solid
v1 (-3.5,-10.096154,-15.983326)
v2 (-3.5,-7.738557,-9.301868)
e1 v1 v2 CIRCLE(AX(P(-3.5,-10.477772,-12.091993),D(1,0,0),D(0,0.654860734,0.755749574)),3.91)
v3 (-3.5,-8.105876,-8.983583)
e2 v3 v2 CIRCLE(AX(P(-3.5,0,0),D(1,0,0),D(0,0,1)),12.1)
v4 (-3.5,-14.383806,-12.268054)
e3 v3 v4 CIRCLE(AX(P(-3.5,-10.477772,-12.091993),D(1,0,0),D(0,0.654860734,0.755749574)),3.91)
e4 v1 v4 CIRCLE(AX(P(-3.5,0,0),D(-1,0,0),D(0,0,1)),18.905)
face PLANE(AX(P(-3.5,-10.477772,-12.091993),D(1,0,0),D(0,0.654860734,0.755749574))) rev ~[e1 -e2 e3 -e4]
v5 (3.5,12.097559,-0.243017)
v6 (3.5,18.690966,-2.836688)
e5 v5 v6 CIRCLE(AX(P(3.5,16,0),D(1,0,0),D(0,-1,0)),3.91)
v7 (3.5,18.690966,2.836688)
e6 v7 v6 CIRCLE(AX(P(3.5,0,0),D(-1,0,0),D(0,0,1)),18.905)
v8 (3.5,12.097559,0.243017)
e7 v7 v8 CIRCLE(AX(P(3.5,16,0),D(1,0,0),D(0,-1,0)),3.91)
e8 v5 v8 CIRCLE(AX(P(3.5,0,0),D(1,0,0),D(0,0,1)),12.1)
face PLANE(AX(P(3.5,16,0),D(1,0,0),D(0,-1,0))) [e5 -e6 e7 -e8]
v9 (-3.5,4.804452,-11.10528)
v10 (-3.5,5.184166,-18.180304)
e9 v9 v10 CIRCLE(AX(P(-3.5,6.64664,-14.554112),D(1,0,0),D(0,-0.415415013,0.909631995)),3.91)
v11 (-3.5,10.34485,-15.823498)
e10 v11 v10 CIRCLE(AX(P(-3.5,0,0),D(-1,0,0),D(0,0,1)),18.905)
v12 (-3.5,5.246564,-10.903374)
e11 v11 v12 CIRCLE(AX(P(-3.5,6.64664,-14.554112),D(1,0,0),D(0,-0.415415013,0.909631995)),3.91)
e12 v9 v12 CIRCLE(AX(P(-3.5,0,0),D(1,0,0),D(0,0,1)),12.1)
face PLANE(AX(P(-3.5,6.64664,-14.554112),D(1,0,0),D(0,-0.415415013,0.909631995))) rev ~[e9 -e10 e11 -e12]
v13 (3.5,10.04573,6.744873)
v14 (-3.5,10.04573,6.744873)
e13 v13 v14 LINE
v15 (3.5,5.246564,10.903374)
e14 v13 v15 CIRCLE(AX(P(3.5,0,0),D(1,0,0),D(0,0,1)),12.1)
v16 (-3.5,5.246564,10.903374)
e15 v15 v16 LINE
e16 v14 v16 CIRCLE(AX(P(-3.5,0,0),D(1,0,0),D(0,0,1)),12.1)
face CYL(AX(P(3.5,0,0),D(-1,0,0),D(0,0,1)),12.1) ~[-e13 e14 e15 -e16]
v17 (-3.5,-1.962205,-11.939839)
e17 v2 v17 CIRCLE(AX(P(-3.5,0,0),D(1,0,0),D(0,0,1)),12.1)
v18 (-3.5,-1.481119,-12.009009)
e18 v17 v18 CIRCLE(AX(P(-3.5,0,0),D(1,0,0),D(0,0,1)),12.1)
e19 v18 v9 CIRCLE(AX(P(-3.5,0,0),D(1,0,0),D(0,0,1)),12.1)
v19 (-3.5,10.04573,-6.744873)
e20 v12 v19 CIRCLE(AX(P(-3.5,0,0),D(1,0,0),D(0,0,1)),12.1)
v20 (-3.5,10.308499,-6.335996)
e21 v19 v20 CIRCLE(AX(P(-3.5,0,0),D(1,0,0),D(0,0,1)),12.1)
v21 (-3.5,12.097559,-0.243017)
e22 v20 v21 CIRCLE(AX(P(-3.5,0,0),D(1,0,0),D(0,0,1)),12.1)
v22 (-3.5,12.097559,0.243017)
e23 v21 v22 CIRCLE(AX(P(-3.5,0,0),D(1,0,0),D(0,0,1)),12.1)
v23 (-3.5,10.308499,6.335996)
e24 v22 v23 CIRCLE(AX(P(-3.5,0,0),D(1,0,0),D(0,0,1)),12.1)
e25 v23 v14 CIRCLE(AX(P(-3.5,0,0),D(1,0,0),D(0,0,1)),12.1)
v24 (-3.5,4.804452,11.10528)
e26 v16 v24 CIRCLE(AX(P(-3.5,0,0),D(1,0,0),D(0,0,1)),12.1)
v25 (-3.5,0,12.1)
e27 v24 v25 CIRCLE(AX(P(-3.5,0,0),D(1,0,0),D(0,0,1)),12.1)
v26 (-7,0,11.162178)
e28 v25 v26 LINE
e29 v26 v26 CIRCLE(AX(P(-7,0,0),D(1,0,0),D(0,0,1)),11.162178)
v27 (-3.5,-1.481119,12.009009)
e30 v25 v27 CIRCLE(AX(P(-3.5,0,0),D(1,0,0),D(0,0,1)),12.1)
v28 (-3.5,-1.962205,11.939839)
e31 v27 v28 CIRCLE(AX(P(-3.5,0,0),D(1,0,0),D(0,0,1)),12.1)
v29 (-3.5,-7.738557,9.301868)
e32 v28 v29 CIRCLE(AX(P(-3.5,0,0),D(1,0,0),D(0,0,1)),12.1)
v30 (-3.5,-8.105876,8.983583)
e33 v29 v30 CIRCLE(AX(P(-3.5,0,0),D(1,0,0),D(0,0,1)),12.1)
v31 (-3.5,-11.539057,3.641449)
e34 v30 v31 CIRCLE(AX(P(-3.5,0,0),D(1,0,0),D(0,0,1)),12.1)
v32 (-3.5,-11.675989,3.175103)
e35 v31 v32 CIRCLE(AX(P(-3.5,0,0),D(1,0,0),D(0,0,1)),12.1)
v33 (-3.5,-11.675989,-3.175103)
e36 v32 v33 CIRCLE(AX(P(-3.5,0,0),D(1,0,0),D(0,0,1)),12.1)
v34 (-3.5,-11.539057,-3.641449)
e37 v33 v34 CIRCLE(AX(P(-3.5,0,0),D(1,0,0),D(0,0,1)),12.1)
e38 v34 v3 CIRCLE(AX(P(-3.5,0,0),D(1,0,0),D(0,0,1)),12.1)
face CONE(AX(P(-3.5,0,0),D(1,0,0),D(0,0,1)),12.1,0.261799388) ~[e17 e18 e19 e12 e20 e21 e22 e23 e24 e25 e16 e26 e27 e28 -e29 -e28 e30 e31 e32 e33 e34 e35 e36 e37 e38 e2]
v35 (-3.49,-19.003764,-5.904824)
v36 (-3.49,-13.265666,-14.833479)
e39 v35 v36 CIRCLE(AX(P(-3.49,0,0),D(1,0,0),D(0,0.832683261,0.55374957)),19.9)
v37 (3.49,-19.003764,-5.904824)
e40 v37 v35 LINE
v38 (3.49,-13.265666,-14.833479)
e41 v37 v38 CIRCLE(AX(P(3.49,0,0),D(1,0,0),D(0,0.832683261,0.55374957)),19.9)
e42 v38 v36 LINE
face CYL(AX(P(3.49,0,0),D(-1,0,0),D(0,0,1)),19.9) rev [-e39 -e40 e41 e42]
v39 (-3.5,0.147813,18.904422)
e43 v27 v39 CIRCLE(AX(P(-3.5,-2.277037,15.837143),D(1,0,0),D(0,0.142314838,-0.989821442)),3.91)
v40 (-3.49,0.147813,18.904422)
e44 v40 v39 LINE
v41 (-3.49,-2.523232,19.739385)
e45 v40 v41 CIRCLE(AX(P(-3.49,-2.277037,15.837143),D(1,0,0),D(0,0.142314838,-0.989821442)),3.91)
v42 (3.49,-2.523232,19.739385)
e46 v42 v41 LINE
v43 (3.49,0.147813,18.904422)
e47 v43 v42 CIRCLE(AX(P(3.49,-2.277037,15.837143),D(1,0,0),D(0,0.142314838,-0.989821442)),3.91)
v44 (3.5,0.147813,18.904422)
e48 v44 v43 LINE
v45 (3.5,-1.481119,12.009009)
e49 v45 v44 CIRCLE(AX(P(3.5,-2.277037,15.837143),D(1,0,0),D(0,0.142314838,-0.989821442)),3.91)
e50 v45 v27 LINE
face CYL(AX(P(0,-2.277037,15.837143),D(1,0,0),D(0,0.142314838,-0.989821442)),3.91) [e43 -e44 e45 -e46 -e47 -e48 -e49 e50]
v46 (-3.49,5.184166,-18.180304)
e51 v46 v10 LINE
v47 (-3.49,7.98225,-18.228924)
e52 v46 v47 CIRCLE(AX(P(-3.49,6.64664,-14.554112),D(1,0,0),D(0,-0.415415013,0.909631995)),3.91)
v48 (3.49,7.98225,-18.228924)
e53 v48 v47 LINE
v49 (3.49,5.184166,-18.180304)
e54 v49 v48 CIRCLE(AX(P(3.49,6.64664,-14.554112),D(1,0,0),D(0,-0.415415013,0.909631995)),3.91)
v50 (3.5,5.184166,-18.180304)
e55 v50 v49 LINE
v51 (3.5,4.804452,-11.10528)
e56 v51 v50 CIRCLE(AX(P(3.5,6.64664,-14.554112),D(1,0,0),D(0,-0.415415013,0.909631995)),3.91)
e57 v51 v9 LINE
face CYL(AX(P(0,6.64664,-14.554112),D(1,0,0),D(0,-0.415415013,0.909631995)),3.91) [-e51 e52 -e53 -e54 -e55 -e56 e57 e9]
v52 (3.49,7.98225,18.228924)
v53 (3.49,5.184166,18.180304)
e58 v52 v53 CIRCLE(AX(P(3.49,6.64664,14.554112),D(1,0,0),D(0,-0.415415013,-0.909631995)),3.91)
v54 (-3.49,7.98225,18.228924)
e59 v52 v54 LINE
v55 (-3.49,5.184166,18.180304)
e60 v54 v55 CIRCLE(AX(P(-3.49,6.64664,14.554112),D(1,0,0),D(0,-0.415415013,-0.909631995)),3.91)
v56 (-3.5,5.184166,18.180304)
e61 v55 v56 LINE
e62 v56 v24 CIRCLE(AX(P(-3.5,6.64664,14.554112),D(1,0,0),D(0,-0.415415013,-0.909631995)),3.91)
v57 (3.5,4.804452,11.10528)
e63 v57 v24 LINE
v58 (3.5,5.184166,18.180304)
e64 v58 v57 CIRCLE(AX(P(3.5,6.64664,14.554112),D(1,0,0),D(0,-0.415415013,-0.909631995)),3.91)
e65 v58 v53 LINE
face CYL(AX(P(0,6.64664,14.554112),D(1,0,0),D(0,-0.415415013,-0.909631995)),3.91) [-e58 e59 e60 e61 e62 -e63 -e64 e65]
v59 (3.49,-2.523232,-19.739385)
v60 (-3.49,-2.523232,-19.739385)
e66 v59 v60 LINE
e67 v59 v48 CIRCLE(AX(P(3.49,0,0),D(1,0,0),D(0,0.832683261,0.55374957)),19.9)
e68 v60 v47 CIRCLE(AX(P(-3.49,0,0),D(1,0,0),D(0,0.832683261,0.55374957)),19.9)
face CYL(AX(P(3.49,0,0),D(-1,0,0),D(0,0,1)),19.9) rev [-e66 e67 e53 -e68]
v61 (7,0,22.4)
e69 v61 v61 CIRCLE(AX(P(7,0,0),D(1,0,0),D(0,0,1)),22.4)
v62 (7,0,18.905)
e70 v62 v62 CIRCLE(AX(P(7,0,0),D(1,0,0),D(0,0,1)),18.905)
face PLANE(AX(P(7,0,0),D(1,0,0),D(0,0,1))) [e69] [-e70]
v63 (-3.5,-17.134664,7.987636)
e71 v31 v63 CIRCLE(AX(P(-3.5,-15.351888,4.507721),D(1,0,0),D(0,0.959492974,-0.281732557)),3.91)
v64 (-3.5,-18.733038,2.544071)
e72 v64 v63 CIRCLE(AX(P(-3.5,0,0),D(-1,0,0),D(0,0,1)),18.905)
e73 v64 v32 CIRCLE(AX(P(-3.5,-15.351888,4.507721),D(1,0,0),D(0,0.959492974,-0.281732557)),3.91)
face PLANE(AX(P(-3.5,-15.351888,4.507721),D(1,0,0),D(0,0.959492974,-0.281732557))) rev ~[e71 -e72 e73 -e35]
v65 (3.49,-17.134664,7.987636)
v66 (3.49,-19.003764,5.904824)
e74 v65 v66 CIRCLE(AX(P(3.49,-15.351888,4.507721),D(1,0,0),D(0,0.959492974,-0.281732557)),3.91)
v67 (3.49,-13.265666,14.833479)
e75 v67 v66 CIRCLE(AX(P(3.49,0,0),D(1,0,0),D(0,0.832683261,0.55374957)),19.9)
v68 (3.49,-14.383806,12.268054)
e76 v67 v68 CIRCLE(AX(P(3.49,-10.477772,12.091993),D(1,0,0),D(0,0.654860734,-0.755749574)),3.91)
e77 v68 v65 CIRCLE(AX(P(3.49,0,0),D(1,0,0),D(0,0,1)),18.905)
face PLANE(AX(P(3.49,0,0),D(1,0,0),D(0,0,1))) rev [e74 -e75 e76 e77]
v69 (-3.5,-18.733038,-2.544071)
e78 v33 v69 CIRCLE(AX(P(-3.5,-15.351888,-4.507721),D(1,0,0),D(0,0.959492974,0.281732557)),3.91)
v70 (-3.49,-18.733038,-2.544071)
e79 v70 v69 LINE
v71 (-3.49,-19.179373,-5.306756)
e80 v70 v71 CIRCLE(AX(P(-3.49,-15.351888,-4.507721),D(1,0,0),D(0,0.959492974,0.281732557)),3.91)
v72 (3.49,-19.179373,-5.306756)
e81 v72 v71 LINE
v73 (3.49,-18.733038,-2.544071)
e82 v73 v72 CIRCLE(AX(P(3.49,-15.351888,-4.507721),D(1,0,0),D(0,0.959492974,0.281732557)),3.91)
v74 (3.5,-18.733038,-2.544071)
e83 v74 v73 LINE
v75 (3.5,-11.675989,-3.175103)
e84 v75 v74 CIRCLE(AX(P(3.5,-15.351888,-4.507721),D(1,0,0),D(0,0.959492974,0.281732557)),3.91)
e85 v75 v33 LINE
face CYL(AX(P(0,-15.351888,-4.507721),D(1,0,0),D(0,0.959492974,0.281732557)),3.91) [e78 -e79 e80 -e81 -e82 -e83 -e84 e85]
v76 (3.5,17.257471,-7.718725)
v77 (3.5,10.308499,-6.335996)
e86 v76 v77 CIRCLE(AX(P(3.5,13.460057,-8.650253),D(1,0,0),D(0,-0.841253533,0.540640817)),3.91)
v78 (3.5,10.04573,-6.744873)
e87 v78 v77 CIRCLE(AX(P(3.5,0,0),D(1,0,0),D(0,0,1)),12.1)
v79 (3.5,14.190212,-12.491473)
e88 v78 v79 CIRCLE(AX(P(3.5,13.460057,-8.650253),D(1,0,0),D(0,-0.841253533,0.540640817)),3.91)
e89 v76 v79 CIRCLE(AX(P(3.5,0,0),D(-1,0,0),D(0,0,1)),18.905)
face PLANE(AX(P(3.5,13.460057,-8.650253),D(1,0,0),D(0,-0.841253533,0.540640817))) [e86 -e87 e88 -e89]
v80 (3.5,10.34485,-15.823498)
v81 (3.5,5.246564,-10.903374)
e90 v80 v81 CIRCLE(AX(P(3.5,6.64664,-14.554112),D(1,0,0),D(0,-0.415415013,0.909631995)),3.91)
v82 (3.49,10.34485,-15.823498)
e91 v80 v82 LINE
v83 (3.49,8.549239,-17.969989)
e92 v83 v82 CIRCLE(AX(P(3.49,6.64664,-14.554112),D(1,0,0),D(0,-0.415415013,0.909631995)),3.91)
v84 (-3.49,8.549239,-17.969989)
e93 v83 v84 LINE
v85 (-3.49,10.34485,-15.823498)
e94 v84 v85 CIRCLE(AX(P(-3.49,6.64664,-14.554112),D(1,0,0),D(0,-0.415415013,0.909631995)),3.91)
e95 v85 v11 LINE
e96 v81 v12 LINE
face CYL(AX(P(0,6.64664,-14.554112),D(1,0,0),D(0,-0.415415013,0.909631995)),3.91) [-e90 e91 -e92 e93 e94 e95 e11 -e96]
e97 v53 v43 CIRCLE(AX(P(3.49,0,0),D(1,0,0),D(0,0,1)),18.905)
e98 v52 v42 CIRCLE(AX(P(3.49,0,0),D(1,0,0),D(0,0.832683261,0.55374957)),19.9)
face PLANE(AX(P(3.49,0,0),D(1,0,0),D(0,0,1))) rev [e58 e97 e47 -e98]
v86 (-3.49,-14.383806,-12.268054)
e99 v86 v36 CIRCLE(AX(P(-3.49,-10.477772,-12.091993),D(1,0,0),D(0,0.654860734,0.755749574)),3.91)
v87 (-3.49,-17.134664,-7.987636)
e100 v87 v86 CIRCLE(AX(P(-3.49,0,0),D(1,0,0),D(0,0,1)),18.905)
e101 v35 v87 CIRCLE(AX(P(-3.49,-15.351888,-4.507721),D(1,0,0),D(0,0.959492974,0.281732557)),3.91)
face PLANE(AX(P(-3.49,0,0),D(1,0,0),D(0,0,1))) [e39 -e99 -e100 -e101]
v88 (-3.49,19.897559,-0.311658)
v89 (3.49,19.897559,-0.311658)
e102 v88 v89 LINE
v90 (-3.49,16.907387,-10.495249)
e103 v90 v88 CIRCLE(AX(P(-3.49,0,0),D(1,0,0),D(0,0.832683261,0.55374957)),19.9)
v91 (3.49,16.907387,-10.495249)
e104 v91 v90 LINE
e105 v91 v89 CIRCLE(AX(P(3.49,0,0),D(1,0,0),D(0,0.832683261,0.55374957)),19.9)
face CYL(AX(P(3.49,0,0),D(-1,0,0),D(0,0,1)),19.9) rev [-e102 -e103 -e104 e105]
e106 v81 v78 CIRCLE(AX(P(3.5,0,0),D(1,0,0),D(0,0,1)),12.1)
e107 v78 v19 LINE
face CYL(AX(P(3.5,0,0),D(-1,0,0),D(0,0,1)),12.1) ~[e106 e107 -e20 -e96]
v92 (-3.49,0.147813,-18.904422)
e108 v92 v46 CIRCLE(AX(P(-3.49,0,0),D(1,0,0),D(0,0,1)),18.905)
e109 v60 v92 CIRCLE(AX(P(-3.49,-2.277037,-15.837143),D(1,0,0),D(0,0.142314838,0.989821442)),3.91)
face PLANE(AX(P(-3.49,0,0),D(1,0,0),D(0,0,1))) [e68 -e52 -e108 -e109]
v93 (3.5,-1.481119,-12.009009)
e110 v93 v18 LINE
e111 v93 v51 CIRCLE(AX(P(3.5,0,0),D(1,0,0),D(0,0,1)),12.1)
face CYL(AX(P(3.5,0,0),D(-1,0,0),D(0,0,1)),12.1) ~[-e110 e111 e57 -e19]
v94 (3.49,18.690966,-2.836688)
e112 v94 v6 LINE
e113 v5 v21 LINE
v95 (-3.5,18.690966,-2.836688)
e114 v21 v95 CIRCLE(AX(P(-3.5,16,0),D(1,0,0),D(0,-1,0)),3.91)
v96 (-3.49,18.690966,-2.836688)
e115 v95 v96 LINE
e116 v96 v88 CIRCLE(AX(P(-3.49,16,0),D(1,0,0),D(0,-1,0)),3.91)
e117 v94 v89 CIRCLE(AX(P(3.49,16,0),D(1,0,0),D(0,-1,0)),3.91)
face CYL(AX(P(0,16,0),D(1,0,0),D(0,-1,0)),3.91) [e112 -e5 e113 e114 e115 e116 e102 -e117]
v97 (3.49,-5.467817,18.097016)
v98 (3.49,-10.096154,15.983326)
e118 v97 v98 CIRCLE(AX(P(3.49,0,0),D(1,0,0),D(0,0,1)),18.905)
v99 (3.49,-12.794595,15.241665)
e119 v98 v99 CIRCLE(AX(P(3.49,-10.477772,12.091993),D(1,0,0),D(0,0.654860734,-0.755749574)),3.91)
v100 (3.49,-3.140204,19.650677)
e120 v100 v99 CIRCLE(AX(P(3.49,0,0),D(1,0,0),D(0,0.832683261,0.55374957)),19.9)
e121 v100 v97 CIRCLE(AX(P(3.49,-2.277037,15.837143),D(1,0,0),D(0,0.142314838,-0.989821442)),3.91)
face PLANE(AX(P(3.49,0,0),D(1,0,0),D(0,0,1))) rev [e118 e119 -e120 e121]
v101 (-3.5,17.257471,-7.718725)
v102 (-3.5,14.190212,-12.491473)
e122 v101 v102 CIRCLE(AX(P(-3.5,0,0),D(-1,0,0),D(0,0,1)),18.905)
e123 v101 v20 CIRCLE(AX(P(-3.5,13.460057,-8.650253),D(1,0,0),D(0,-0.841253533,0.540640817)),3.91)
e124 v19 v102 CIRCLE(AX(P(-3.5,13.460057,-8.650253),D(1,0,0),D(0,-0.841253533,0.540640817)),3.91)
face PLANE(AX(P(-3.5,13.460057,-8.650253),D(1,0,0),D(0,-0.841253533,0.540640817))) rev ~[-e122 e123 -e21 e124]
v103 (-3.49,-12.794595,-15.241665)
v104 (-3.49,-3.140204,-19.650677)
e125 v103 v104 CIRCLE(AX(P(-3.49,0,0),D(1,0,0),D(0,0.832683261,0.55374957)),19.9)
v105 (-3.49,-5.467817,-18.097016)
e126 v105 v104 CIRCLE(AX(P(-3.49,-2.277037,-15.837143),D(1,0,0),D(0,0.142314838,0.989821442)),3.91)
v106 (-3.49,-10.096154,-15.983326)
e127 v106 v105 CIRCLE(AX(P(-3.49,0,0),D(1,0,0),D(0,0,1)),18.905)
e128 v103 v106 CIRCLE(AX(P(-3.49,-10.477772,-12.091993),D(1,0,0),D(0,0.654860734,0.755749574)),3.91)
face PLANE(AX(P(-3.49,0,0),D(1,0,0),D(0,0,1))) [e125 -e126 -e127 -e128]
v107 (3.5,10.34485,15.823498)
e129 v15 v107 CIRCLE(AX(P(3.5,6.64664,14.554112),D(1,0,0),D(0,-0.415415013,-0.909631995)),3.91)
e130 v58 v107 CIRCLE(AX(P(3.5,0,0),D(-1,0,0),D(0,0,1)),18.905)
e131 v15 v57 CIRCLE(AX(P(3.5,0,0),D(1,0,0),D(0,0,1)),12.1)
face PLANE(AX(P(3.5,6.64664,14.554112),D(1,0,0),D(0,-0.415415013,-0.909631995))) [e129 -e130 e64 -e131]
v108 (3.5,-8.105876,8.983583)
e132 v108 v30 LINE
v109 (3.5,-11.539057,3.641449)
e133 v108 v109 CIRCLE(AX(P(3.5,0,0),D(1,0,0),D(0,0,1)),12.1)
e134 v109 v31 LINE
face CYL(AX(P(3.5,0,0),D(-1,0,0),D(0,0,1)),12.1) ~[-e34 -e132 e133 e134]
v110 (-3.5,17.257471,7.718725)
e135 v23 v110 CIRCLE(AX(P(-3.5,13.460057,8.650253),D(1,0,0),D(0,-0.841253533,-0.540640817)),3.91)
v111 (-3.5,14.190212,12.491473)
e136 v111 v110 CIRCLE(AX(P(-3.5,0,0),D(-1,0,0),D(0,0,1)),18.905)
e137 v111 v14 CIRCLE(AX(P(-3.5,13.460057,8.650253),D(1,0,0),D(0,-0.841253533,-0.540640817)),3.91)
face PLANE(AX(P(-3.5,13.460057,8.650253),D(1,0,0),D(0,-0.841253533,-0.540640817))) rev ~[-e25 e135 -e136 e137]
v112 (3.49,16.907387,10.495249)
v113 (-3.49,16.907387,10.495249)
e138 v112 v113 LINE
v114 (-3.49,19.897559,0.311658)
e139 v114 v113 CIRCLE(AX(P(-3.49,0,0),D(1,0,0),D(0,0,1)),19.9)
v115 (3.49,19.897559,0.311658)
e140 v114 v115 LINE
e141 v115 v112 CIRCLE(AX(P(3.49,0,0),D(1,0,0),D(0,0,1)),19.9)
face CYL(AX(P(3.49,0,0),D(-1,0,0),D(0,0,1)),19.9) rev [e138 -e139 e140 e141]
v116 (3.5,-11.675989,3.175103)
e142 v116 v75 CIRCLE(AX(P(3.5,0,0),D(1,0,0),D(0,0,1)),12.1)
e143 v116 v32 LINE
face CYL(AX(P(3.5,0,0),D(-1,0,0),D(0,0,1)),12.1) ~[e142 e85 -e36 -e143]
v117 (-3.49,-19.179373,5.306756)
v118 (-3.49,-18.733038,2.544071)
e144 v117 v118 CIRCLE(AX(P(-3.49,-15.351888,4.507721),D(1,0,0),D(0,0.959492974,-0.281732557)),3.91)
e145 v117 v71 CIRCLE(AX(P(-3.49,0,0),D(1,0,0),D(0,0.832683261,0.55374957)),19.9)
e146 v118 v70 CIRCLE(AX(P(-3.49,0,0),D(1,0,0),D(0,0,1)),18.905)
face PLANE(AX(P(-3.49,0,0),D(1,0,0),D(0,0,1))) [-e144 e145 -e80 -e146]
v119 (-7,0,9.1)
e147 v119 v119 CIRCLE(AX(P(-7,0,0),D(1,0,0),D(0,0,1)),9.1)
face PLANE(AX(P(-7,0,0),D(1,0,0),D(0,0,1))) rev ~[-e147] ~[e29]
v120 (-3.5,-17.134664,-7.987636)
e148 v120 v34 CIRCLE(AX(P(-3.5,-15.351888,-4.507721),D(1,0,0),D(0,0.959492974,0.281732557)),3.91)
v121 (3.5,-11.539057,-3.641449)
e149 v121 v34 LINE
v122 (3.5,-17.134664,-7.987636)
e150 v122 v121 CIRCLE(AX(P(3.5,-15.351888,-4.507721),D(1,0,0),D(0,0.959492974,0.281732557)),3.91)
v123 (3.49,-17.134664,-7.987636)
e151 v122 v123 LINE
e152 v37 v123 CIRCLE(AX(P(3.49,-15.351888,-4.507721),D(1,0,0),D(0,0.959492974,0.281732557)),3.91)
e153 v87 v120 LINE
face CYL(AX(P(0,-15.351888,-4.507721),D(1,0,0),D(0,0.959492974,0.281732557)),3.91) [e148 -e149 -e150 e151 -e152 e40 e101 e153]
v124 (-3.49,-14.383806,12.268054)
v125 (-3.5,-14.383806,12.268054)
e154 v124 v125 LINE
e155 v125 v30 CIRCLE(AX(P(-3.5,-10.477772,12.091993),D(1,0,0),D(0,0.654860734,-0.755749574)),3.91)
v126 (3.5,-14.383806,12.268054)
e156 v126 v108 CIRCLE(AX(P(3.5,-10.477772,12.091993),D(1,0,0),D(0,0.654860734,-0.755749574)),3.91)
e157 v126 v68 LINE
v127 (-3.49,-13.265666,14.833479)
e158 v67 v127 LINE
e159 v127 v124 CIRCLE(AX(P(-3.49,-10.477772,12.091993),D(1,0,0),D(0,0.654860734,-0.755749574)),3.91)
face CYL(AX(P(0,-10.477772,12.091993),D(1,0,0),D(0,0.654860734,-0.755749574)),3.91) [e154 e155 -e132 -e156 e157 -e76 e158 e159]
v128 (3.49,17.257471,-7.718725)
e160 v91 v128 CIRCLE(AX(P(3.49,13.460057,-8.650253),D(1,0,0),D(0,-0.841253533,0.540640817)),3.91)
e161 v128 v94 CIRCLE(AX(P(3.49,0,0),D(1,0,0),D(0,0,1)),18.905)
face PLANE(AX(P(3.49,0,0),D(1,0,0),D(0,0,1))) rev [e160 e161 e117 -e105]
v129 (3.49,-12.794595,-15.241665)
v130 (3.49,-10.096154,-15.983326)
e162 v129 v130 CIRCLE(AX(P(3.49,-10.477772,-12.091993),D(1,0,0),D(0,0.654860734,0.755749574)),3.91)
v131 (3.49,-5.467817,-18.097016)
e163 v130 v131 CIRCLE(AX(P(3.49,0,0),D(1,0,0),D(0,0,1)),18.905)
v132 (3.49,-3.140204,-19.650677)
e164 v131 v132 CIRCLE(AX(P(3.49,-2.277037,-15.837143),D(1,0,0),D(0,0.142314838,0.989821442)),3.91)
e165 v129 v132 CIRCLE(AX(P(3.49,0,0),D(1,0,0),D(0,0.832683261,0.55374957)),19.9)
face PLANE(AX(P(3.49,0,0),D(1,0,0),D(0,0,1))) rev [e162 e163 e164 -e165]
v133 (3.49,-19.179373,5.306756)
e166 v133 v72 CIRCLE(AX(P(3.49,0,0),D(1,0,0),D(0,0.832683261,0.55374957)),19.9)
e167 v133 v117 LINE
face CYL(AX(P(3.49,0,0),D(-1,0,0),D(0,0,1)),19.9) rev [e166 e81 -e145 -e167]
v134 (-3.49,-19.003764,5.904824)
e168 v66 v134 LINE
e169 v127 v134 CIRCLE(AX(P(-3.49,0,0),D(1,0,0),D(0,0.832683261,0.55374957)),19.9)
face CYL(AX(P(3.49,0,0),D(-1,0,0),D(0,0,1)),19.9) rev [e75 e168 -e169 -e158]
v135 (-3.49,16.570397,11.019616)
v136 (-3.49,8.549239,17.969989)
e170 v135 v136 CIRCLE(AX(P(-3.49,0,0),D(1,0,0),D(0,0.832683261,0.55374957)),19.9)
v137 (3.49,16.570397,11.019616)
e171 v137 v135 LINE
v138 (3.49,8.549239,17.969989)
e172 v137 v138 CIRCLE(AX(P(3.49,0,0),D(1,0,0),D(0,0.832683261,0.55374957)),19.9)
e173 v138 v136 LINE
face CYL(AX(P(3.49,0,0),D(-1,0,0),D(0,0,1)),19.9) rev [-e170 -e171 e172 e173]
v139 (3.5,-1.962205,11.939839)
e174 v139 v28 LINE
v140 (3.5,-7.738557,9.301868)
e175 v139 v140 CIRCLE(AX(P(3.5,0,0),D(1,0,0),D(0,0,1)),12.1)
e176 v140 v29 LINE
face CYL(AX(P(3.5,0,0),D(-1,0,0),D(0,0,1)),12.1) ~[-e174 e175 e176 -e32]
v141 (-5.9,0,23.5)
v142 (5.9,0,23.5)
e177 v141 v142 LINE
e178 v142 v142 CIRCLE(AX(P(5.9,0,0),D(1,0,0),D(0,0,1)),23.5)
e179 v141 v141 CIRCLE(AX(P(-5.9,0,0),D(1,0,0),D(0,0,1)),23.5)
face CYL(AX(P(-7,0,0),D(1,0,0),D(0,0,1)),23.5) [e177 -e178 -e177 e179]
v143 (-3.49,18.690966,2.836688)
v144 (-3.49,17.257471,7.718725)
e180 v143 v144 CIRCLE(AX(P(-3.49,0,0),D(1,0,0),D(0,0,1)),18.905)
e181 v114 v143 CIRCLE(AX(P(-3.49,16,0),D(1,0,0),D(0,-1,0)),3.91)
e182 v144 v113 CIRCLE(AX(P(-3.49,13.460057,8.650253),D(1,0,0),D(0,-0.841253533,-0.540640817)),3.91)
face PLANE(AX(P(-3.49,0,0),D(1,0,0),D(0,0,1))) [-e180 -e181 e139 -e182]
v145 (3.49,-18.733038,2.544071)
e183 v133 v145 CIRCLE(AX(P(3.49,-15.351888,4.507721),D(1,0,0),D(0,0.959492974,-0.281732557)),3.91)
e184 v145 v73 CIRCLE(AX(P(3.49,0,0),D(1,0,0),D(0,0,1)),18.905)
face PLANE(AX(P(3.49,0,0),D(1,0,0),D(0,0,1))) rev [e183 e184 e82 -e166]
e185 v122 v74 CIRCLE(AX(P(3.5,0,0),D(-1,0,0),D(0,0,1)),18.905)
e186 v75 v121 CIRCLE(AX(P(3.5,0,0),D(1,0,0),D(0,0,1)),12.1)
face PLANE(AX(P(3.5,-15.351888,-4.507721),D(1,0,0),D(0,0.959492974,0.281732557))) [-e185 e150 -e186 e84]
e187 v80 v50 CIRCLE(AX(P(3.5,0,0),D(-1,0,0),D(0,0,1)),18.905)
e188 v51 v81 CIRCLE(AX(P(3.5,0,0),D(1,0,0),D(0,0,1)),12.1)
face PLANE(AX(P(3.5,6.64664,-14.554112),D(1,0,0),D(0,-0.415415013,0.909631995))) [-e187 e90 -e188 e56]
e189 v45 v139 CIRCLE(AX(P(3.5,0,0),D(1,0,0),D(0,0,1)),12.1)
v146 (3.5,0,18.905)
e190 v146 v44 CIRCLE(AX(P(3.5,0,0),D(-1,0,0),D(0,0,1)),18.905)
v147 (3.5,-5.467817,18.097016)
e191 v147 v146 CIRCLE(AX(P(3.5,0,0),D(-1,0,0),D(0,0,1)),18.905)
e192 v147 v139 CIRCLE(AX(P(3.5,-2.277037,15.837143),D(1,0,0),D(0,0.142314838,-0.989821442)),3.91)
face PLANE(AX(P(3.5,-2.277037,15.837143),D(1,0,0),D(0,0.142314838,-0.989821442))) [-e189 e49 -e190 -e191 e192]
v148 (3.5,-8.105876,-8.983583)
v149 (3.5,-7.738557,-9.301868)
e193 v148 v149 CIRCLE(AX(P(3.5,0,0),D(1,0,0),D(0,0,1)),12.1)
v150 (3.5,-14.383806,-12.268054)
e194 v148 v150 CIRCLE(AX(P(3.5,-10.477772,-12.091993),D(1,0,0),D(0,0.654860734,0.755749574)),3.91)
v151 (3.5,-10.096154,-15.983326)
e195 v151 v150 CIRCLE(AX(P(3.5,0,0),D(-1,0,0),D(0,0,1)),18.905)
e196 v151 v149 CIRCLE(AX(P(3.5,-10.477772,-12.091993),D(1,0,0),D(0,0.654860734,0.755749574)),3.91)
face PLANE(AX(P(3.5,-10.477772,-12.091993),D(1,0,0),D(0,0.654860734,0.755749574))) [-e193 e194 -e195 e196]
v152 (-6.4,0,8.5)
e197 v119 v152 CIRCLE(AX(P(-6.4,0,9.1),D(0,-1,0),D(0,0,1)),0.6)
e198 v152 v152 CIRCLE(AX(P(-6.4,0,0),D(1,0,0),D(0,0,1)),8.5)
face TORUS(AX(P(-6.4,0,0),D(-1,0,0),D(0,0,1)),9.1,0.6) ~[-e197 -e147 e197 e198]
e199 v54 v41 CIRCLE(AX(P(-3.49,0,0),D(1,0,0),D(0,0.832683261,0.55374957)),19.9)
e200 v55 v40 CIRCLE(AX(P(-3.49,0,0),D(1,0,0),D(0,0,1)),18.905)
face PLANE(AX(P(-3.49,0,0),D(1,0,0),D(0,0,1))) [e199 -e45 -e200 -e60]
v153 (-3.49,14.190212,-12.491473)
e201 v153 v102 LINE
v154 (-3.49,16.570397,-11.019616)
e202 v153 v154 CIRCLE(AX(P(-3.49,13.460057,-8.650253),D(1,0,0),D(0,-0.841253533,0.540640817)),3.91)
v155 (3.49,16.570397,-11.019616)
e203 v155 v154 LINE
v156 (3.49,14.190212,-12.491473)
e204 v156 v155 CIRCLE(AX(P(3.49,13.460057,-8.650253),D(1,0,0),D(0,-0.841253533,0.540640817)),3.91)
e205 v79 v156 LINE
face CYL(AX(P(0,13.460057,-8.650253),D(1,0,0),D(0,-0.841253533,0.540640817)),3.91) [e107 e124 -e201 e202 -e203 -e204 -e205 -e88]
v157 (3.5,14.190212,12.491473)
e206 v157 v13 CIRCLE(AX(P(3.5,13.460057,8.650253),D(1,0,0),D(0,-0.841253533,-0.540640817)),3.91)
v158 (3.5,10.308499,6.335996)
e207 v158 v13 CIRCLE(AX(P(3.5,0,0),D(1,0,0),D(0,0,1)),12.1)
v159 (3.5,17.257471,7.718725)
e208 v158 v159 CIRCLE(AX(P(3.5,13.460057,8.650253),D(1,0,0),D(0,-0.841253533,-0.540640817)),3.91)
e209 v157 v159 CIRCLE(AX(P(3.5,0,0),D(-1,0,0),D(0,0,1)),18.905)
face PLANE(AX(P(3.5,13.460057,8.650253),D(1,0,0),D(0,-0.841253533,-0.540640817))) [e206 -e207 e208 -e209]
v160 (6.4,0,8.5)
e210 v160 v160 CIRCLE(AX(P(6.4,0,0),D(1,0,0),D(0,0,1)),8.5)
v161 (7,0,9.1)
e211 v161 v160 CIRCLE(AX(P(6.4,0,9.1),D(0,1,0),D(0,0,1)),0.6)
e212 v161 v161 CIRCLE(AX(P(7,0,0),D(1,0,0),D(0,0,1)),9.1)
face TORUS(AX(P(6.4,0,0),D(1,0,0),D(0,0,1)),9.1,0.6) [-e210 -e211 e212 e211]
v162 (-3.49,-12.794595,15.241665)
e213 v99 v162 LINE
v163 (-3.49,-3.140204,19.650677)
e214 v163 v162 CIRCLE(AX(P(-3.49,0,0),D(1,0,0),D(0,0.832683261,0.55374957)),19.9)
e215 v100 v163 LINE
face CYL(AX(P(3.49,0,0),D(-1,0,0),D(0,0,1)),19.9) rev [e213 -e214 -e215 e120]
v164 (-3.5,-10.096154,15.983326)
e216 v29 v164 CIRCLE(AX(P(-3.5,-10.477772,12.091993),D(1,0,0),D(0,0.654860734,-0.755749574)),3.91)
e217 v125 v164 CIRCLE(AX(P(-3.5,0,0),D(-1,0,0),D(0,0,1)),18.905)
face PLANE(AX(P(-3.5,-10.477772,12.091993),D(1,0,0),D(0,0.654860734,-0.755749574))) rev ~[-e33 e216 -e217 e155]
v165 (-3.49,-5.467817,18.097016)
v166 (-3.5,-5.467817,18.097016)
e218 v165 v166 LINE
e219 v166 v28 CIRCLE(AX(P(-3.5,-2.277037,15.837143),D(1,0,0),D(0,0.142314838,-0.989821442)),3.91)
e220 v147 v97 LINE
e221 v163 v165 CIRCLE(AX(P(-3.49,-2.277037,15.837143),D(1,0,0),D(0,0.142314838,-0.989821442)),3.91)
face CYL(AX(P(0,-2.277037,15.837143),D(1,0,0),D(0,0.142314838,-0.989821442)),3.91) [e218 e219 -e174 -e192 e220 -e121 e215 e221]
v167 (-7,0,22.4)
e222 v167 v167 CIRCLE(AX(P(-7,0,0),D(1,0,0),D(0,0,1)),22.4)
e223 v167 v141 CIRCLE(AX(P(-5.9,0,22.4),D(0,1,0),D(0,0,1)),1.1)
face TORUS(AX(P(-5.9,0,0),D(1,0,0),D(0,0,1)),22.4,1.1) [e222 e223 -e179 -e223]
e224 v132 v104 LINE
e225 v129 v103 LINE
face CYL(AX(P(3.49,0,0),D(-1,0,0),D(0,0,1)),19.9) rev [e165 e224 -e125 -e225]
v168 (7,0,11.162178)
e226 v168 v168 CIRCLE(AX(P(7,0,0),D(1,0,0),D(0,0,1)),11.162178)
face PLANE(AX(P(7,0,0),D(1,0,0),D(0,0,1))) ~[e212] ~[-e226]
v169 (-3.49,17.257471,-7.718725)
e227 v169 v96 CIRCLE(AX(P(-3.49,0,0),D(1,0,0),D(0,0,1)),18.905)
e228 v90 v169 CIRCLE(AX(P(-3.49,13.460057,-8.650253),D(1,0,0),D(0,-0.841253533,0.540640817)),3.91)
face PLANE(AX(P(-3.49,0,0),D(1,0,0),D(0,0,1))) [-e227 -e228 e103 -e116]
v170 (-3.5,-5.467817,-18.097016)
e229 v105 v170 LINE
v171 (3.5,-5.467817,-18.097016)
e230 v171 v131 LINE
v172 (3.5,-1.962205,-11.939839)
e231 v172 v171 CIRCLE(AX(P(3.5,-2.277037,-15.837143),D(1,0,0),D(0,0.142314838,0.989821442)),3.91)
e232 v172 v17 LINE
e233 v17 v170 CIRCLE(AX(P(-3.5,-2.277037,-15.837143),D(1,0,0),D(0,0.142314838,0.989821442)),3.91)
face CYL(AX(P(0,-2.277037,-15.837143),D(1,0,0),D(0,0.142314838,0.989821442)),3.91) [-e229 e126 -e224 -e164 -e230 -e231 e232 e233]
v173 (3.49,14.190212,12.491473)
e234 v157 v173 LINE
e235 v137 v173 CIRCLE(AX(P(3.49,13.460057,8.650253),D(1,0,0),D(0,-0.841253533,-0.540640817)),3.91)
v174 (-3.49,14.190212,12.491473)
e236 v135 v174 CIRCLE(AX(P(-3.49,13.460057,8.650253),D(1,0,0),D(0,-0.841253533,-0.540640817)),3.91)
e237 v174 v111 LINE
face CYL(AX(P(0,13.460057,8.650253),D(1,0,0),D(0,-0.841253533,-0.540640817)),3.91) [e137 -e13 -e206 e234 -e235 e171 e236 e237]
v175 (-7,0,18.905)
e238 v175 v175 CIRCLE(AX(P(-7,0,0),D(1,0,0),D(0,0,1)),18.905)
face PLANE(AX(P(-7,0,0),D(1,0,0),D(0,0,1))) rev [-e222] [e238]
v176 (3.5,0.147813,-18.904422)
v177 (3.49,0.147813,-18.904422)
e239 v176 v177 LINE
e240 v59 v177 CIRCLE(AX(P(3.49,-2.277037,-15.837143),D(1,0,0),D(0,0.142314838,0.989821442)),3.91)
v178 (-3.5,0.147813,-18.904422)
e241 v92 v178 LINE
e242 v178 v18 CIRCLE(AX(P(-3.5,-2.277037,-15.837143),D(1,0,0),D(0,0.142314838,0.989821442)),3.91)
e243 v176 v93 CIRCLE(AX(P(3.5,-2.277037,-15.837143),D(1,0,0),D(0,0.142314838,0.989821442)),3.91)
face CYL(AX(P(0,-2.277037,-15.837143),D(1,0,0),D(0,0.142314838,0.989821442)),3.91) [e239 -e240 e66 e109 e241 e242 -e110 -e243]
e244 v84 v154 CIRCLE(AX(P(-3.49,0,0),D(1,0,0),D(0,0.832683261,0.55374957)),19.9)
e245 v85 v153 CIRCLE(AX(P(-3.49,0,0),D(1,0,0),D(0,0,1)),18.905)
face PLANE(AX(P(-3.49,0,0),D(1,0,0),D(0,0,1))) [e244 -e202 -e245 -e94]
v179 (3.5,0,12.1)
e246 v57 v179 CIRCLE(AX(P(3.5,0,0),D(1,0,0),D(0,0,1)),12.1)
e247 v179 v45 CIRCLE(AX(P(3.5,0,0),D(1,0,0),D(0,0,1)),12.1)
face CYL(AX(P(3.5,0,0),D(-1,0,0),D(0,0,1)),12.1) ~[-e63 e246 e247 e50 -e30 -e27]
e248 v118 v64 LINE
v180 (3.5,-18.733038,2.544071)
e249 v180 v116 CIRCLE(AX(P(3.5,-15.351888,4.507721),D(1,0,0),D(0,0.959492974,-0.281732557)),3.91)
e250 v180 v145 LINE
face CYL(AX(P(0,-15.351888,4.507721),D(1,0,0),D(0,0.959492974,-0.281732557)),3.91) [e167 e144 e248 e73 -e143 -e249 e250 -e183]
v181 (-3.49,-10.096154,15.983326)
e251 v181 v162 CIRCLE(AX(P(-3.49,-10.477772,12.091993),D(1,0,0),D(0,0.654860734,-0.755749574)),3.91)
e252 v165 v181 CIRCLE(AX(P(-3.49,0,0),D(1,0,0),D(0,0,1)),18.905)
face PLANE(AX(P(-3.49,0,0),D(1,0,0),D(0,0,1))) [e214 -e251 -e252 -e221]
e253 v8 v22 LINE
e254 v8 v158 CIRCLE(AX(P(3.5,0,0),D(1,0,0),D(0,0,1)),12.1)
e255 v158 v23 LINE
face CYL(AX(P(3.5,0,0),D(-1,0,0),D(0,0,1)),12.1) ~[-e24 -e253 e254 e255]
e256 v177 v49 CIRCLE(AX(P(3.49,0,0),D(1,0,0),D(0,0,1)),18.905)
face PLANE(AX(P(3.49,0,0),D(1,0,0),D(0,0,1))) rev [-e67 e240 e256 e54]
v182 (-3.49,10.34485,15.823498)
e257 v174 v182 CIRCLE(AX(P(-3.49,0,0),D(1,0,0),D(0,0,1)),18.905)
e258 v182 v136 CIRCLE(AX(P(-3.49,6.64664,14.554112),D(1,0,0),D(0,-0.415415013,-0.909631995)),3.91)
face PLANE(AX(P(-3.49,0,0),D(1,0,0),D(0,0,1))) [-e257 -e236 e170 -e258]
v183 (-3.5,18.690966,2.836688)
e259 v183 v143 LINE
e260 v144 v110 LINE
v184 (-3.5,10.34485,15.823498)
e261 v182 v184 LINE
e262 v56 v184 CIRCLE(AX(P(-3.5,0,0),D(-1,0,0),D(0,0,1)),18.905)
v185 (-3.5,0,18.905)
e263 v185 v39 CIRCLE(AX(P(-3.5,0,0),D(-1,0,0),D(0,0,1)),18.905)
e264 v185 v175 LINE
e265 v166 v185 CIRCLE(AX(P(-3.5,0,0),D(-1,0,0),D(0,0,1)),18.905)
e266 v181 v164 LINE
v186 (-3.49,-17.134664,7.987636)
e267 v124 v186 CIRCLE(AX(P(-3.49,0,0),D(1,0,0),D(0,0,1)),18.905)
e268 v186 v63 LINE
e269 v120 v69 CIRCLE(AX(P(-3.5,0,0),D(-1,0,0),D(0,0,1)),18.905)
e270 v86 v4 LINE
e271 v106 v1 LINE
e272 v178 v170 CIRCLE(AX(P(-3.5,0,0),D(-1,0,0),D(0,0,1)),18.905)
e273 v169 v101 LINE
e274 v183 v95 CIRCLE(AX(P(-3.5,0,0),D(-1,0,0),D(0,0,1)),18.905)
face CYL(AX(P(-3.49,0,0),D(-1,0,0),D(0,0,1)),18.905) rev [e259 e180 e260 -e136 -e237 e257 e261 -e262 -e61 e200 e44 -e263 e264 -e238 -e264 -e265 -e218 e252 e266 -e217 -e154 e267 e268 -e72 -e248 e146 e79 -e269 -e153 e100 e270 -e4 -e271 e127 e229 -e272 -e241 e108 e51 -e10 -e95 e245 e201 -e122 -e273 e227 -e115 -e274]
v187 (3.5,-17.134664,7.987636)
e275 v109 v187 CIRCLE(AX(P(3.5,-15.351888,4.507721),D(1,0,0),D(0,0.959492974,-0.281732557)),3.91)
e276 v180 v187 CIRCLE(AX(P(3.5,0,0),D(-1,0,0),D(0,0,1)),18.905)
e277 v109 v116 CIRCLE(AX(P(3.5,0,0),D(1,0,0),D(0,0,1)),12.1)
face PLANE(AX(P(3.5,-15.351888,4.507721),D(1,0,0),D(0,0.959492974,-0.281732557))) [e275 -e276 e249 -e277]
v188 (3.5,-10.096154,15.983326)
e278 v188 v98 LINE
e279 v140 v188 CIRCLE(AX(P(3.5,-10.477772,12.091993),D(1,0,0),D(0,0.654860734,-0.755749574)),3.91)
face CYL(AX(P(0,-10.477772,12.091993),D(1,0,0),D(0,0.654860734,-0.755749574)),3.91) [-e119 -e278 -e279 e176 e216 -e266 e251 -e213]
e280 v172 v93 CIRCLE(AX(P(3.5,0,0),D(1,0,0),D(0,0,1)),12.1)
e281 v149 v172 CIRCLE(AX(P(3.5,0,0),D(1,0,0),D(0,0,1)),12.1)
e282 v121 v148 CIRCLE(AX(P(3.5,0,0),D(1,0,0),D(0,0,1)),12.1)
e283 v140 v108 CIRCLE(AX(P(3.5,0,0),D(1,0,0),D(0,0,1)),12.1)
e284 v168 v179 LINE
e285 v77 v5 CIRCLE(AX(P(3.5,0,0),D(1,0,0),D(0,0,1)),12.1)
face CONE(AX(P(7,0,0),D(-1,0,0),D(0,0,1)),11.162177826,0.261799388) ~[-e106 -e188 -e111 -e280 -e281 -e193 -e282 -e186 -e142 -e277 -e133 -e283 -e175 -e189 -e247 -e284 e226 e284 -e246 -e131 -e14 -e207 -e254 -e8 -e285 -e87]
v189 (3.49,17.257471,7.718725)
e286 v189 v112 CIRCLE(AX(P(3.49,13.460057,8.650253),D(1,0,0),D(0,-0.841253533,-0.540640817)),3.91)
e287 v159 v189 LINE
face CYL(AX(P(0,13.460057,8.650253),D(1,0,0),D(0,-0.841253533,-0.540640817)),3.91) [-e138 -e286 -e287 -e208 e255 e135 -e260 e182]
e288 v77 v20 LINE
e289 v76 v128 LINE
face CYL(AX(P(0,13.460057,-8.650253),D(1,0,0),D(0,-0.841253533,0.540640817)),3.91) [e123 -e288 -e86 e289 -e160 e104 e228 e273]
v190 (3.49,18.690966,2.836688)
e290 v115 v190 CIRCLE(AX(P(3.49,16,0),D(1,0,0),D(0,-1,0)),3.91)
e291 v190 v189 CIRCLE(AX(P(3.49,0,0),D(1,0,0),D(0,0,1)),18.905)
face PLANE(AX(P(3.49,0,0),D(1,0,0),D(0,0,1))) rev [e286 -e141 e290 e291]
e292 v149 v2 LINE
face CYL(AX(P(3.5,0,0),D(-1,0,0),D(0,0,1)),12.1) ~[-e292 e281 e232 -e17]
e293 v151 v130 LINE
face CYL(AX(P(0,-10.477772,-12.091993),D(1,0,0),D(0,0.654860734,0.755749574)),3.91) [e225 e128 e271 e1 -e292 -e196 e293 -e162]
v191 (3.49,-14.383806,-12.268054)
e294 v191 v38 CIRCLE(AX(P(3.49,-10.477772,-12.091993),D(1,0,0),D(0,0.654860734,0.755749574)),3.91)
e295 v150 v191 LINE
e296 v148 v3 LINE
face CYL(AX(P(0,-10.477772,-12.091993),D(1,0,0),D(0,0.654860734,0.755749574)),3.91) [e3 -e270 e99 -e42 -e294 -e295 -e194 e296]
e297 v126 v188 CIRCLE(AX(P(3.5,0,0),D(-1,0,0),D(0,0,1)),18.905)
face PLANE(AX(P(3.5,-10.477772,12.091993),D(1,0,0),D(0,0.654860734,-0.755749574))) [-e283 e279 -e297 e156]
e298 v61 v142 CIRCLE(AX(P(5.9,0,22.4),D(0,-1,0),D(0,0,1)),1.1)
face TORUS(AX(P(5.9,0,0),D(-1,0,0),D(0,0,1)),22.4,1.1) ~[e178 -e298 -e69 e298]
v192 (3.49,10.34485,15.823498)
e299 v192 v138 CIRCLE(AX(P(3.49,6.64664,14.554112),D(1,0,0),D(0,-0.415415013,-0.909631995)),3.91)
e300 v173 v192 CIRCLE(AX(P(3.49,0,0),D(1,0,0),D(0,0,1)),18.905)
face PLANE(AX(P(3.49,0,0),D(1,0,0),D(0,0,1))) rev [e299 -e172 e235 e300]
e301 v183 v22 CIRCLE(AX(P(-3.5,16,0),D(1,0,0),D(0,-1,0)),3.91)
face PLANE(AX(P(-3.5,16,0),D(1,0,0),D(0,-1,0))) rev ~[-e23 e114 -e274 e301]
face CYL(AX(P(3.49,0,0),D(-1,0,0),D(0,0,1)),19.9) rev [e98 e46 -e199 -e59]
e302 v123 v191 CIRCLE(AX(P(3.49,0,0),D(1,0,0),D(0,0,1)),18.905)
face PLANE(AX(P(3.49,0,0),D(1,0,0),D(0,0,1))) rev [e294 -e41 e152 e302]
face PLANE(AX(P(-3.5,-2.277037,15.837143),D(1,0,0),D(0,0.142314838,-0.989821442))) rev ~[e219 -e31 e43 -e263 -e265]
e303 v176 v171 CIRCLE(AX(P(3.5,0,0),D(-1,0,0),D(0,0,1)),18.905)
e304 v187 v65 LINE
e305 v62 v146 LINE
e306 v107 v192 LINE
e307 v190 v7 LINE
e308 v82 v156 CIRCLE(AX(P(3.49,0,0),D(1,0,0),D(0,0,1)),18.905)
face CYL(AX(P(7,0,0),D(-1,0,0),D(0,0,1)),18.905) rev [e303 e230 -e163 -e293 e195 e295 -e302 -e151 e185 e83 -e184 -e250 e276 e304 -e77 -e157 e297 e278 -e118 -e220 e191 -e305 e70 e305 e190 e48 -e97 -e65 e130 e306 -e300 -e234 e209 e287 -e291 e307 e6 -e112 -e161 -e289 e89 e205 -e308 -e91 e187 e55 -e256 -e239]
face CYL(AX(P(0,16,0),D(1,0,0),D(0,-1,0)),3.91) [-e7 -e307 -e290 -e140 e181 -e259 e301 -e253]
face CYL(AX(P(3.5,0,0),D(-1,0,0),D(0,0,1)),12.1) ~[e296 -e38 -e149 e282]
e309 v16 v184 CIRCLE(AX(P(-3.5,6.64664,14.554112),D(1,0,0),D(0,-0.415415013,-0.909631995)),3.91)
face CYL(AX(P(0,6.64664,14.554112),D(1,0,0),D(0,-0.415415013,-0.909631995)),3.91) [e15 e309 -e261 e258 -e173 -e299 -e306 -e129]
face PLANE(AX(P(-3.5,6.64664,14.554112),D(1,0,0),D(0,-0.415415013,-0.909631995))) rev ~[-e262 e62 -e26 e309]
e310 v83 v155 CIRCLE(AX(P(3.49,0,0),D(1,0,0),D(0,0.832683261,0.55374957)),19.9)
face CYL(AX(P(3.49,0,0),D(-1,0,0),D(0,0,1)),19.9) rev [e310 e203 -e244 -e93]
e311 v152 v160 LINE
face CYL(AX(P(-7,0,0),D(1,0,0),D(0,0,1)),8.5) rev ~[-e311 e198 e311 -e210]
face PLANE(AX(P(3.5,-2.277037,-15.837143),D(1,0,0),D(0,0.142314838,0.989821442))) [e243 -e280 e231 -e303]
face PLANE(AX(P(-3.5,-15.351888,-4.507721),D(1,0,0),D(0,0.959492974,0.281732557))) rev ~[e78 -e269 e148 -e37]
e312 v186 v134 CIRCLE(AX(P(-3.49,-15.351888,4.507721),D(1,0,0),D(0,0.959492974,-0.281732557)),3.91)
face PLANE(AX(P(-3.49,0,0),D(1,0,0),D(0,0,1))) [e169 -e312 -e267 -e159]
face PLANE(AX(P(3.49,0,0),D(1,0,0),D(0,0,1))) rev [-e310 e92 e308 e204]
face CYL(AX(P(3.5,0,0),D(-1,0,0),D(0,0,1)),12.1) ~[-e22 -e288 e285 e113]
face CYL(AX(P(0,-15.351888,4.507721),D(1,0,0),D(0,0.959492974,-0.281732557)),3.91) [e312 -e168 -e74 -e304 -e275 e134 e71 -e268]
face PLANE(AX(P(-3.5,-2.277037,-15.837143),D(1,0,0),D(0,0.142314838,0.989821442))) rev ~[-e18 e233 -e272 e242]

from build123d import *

# Parameters (mm, degrees)
SKETCH2_W               = 7
SKETCH2_H               = 3.91
CIRCULAR_PATTERN1_COUNT = 11
FILLET1_R               = 1.1
FILLET2_R               = 0.6


with BuildPart() as part:
    # Sketch1 → Revolve1 (revolve)
    with BuildSketch(Plane.XY, mode=Mode.PRIVATE) as revolve1_sk:
        Polygon((-7, 8.5), (7, 8.5), (7, 11.162177826), (3.5, 12.1), (-3.5, 12.1), (-7, 11.162177826), align=None)
    revolve(revolve1_sk.sketch.rotate(Axis((-10.137871204, 0, 0), (1, 0, 0)), 90), axis=Axis((-10.137871204, 0, 0), (1, 0, 0)))

    # Sketch2 → Revolve2 (revolve)
    with BuildSketch(Plane.XY):
        with Locations((0, 14.045)):
            Rectangle(SKETCH2_W, SKETCH2_H)
    revolve2 = revolve(axis=Axis((-7.422783257, 16, 0), (1, 0, 0)))

    # Sketch3 → Revolve3 (revolve)
    with BuildSketch(Plane.XY, mode=Mode.PRIVATE) as revolve3_sk:
        Polygon((-7, 23.5), (7, 23.5), (7, 18.905), (3.49, 18.905), (3.49, 19.9), (-3.49, 19.9), (-3.49, 18.905), (-7, 18.905), align=None)
    revolve(revolve3_sk.sketch.rotate(Axis((-9.082213196, 0, 0), (1, 0, 0)), 90), axis=Axis((-9.082213196, 0, 0), (1, 0, 0)))

    # Circular-Pattern1: Revolve2 ×11 about axis
    circular_pattern1_axis = Axis((0, 0, 0), (1, 0, 0))
    for i in range(1, CIRCULAR_PATTERN1_COUNT):
        add(revolve2.rotate(circular_pattern1_axis, i * 360 / CIRCULAR_PATTERN1_COUNT))

    # Fillet1
    fillet1_edges = [part.edges().sort_by_distance(p)[0] for p in [
        (-7, 0, -23.5),
        (7, 0, -23.5),
    ]]
    fillet(fillet1_edges, radius=FILLET1_R)

    # Fillet2
    fillet2_edges = [part.edges().sort_by_distance(p)[0] for p in [
        (7, 0, -8.5),
        (-7, 0, -8.5),
    ]]
    fillet(fillet2_edges, radius=FILLET2_R)


solid = part.part
